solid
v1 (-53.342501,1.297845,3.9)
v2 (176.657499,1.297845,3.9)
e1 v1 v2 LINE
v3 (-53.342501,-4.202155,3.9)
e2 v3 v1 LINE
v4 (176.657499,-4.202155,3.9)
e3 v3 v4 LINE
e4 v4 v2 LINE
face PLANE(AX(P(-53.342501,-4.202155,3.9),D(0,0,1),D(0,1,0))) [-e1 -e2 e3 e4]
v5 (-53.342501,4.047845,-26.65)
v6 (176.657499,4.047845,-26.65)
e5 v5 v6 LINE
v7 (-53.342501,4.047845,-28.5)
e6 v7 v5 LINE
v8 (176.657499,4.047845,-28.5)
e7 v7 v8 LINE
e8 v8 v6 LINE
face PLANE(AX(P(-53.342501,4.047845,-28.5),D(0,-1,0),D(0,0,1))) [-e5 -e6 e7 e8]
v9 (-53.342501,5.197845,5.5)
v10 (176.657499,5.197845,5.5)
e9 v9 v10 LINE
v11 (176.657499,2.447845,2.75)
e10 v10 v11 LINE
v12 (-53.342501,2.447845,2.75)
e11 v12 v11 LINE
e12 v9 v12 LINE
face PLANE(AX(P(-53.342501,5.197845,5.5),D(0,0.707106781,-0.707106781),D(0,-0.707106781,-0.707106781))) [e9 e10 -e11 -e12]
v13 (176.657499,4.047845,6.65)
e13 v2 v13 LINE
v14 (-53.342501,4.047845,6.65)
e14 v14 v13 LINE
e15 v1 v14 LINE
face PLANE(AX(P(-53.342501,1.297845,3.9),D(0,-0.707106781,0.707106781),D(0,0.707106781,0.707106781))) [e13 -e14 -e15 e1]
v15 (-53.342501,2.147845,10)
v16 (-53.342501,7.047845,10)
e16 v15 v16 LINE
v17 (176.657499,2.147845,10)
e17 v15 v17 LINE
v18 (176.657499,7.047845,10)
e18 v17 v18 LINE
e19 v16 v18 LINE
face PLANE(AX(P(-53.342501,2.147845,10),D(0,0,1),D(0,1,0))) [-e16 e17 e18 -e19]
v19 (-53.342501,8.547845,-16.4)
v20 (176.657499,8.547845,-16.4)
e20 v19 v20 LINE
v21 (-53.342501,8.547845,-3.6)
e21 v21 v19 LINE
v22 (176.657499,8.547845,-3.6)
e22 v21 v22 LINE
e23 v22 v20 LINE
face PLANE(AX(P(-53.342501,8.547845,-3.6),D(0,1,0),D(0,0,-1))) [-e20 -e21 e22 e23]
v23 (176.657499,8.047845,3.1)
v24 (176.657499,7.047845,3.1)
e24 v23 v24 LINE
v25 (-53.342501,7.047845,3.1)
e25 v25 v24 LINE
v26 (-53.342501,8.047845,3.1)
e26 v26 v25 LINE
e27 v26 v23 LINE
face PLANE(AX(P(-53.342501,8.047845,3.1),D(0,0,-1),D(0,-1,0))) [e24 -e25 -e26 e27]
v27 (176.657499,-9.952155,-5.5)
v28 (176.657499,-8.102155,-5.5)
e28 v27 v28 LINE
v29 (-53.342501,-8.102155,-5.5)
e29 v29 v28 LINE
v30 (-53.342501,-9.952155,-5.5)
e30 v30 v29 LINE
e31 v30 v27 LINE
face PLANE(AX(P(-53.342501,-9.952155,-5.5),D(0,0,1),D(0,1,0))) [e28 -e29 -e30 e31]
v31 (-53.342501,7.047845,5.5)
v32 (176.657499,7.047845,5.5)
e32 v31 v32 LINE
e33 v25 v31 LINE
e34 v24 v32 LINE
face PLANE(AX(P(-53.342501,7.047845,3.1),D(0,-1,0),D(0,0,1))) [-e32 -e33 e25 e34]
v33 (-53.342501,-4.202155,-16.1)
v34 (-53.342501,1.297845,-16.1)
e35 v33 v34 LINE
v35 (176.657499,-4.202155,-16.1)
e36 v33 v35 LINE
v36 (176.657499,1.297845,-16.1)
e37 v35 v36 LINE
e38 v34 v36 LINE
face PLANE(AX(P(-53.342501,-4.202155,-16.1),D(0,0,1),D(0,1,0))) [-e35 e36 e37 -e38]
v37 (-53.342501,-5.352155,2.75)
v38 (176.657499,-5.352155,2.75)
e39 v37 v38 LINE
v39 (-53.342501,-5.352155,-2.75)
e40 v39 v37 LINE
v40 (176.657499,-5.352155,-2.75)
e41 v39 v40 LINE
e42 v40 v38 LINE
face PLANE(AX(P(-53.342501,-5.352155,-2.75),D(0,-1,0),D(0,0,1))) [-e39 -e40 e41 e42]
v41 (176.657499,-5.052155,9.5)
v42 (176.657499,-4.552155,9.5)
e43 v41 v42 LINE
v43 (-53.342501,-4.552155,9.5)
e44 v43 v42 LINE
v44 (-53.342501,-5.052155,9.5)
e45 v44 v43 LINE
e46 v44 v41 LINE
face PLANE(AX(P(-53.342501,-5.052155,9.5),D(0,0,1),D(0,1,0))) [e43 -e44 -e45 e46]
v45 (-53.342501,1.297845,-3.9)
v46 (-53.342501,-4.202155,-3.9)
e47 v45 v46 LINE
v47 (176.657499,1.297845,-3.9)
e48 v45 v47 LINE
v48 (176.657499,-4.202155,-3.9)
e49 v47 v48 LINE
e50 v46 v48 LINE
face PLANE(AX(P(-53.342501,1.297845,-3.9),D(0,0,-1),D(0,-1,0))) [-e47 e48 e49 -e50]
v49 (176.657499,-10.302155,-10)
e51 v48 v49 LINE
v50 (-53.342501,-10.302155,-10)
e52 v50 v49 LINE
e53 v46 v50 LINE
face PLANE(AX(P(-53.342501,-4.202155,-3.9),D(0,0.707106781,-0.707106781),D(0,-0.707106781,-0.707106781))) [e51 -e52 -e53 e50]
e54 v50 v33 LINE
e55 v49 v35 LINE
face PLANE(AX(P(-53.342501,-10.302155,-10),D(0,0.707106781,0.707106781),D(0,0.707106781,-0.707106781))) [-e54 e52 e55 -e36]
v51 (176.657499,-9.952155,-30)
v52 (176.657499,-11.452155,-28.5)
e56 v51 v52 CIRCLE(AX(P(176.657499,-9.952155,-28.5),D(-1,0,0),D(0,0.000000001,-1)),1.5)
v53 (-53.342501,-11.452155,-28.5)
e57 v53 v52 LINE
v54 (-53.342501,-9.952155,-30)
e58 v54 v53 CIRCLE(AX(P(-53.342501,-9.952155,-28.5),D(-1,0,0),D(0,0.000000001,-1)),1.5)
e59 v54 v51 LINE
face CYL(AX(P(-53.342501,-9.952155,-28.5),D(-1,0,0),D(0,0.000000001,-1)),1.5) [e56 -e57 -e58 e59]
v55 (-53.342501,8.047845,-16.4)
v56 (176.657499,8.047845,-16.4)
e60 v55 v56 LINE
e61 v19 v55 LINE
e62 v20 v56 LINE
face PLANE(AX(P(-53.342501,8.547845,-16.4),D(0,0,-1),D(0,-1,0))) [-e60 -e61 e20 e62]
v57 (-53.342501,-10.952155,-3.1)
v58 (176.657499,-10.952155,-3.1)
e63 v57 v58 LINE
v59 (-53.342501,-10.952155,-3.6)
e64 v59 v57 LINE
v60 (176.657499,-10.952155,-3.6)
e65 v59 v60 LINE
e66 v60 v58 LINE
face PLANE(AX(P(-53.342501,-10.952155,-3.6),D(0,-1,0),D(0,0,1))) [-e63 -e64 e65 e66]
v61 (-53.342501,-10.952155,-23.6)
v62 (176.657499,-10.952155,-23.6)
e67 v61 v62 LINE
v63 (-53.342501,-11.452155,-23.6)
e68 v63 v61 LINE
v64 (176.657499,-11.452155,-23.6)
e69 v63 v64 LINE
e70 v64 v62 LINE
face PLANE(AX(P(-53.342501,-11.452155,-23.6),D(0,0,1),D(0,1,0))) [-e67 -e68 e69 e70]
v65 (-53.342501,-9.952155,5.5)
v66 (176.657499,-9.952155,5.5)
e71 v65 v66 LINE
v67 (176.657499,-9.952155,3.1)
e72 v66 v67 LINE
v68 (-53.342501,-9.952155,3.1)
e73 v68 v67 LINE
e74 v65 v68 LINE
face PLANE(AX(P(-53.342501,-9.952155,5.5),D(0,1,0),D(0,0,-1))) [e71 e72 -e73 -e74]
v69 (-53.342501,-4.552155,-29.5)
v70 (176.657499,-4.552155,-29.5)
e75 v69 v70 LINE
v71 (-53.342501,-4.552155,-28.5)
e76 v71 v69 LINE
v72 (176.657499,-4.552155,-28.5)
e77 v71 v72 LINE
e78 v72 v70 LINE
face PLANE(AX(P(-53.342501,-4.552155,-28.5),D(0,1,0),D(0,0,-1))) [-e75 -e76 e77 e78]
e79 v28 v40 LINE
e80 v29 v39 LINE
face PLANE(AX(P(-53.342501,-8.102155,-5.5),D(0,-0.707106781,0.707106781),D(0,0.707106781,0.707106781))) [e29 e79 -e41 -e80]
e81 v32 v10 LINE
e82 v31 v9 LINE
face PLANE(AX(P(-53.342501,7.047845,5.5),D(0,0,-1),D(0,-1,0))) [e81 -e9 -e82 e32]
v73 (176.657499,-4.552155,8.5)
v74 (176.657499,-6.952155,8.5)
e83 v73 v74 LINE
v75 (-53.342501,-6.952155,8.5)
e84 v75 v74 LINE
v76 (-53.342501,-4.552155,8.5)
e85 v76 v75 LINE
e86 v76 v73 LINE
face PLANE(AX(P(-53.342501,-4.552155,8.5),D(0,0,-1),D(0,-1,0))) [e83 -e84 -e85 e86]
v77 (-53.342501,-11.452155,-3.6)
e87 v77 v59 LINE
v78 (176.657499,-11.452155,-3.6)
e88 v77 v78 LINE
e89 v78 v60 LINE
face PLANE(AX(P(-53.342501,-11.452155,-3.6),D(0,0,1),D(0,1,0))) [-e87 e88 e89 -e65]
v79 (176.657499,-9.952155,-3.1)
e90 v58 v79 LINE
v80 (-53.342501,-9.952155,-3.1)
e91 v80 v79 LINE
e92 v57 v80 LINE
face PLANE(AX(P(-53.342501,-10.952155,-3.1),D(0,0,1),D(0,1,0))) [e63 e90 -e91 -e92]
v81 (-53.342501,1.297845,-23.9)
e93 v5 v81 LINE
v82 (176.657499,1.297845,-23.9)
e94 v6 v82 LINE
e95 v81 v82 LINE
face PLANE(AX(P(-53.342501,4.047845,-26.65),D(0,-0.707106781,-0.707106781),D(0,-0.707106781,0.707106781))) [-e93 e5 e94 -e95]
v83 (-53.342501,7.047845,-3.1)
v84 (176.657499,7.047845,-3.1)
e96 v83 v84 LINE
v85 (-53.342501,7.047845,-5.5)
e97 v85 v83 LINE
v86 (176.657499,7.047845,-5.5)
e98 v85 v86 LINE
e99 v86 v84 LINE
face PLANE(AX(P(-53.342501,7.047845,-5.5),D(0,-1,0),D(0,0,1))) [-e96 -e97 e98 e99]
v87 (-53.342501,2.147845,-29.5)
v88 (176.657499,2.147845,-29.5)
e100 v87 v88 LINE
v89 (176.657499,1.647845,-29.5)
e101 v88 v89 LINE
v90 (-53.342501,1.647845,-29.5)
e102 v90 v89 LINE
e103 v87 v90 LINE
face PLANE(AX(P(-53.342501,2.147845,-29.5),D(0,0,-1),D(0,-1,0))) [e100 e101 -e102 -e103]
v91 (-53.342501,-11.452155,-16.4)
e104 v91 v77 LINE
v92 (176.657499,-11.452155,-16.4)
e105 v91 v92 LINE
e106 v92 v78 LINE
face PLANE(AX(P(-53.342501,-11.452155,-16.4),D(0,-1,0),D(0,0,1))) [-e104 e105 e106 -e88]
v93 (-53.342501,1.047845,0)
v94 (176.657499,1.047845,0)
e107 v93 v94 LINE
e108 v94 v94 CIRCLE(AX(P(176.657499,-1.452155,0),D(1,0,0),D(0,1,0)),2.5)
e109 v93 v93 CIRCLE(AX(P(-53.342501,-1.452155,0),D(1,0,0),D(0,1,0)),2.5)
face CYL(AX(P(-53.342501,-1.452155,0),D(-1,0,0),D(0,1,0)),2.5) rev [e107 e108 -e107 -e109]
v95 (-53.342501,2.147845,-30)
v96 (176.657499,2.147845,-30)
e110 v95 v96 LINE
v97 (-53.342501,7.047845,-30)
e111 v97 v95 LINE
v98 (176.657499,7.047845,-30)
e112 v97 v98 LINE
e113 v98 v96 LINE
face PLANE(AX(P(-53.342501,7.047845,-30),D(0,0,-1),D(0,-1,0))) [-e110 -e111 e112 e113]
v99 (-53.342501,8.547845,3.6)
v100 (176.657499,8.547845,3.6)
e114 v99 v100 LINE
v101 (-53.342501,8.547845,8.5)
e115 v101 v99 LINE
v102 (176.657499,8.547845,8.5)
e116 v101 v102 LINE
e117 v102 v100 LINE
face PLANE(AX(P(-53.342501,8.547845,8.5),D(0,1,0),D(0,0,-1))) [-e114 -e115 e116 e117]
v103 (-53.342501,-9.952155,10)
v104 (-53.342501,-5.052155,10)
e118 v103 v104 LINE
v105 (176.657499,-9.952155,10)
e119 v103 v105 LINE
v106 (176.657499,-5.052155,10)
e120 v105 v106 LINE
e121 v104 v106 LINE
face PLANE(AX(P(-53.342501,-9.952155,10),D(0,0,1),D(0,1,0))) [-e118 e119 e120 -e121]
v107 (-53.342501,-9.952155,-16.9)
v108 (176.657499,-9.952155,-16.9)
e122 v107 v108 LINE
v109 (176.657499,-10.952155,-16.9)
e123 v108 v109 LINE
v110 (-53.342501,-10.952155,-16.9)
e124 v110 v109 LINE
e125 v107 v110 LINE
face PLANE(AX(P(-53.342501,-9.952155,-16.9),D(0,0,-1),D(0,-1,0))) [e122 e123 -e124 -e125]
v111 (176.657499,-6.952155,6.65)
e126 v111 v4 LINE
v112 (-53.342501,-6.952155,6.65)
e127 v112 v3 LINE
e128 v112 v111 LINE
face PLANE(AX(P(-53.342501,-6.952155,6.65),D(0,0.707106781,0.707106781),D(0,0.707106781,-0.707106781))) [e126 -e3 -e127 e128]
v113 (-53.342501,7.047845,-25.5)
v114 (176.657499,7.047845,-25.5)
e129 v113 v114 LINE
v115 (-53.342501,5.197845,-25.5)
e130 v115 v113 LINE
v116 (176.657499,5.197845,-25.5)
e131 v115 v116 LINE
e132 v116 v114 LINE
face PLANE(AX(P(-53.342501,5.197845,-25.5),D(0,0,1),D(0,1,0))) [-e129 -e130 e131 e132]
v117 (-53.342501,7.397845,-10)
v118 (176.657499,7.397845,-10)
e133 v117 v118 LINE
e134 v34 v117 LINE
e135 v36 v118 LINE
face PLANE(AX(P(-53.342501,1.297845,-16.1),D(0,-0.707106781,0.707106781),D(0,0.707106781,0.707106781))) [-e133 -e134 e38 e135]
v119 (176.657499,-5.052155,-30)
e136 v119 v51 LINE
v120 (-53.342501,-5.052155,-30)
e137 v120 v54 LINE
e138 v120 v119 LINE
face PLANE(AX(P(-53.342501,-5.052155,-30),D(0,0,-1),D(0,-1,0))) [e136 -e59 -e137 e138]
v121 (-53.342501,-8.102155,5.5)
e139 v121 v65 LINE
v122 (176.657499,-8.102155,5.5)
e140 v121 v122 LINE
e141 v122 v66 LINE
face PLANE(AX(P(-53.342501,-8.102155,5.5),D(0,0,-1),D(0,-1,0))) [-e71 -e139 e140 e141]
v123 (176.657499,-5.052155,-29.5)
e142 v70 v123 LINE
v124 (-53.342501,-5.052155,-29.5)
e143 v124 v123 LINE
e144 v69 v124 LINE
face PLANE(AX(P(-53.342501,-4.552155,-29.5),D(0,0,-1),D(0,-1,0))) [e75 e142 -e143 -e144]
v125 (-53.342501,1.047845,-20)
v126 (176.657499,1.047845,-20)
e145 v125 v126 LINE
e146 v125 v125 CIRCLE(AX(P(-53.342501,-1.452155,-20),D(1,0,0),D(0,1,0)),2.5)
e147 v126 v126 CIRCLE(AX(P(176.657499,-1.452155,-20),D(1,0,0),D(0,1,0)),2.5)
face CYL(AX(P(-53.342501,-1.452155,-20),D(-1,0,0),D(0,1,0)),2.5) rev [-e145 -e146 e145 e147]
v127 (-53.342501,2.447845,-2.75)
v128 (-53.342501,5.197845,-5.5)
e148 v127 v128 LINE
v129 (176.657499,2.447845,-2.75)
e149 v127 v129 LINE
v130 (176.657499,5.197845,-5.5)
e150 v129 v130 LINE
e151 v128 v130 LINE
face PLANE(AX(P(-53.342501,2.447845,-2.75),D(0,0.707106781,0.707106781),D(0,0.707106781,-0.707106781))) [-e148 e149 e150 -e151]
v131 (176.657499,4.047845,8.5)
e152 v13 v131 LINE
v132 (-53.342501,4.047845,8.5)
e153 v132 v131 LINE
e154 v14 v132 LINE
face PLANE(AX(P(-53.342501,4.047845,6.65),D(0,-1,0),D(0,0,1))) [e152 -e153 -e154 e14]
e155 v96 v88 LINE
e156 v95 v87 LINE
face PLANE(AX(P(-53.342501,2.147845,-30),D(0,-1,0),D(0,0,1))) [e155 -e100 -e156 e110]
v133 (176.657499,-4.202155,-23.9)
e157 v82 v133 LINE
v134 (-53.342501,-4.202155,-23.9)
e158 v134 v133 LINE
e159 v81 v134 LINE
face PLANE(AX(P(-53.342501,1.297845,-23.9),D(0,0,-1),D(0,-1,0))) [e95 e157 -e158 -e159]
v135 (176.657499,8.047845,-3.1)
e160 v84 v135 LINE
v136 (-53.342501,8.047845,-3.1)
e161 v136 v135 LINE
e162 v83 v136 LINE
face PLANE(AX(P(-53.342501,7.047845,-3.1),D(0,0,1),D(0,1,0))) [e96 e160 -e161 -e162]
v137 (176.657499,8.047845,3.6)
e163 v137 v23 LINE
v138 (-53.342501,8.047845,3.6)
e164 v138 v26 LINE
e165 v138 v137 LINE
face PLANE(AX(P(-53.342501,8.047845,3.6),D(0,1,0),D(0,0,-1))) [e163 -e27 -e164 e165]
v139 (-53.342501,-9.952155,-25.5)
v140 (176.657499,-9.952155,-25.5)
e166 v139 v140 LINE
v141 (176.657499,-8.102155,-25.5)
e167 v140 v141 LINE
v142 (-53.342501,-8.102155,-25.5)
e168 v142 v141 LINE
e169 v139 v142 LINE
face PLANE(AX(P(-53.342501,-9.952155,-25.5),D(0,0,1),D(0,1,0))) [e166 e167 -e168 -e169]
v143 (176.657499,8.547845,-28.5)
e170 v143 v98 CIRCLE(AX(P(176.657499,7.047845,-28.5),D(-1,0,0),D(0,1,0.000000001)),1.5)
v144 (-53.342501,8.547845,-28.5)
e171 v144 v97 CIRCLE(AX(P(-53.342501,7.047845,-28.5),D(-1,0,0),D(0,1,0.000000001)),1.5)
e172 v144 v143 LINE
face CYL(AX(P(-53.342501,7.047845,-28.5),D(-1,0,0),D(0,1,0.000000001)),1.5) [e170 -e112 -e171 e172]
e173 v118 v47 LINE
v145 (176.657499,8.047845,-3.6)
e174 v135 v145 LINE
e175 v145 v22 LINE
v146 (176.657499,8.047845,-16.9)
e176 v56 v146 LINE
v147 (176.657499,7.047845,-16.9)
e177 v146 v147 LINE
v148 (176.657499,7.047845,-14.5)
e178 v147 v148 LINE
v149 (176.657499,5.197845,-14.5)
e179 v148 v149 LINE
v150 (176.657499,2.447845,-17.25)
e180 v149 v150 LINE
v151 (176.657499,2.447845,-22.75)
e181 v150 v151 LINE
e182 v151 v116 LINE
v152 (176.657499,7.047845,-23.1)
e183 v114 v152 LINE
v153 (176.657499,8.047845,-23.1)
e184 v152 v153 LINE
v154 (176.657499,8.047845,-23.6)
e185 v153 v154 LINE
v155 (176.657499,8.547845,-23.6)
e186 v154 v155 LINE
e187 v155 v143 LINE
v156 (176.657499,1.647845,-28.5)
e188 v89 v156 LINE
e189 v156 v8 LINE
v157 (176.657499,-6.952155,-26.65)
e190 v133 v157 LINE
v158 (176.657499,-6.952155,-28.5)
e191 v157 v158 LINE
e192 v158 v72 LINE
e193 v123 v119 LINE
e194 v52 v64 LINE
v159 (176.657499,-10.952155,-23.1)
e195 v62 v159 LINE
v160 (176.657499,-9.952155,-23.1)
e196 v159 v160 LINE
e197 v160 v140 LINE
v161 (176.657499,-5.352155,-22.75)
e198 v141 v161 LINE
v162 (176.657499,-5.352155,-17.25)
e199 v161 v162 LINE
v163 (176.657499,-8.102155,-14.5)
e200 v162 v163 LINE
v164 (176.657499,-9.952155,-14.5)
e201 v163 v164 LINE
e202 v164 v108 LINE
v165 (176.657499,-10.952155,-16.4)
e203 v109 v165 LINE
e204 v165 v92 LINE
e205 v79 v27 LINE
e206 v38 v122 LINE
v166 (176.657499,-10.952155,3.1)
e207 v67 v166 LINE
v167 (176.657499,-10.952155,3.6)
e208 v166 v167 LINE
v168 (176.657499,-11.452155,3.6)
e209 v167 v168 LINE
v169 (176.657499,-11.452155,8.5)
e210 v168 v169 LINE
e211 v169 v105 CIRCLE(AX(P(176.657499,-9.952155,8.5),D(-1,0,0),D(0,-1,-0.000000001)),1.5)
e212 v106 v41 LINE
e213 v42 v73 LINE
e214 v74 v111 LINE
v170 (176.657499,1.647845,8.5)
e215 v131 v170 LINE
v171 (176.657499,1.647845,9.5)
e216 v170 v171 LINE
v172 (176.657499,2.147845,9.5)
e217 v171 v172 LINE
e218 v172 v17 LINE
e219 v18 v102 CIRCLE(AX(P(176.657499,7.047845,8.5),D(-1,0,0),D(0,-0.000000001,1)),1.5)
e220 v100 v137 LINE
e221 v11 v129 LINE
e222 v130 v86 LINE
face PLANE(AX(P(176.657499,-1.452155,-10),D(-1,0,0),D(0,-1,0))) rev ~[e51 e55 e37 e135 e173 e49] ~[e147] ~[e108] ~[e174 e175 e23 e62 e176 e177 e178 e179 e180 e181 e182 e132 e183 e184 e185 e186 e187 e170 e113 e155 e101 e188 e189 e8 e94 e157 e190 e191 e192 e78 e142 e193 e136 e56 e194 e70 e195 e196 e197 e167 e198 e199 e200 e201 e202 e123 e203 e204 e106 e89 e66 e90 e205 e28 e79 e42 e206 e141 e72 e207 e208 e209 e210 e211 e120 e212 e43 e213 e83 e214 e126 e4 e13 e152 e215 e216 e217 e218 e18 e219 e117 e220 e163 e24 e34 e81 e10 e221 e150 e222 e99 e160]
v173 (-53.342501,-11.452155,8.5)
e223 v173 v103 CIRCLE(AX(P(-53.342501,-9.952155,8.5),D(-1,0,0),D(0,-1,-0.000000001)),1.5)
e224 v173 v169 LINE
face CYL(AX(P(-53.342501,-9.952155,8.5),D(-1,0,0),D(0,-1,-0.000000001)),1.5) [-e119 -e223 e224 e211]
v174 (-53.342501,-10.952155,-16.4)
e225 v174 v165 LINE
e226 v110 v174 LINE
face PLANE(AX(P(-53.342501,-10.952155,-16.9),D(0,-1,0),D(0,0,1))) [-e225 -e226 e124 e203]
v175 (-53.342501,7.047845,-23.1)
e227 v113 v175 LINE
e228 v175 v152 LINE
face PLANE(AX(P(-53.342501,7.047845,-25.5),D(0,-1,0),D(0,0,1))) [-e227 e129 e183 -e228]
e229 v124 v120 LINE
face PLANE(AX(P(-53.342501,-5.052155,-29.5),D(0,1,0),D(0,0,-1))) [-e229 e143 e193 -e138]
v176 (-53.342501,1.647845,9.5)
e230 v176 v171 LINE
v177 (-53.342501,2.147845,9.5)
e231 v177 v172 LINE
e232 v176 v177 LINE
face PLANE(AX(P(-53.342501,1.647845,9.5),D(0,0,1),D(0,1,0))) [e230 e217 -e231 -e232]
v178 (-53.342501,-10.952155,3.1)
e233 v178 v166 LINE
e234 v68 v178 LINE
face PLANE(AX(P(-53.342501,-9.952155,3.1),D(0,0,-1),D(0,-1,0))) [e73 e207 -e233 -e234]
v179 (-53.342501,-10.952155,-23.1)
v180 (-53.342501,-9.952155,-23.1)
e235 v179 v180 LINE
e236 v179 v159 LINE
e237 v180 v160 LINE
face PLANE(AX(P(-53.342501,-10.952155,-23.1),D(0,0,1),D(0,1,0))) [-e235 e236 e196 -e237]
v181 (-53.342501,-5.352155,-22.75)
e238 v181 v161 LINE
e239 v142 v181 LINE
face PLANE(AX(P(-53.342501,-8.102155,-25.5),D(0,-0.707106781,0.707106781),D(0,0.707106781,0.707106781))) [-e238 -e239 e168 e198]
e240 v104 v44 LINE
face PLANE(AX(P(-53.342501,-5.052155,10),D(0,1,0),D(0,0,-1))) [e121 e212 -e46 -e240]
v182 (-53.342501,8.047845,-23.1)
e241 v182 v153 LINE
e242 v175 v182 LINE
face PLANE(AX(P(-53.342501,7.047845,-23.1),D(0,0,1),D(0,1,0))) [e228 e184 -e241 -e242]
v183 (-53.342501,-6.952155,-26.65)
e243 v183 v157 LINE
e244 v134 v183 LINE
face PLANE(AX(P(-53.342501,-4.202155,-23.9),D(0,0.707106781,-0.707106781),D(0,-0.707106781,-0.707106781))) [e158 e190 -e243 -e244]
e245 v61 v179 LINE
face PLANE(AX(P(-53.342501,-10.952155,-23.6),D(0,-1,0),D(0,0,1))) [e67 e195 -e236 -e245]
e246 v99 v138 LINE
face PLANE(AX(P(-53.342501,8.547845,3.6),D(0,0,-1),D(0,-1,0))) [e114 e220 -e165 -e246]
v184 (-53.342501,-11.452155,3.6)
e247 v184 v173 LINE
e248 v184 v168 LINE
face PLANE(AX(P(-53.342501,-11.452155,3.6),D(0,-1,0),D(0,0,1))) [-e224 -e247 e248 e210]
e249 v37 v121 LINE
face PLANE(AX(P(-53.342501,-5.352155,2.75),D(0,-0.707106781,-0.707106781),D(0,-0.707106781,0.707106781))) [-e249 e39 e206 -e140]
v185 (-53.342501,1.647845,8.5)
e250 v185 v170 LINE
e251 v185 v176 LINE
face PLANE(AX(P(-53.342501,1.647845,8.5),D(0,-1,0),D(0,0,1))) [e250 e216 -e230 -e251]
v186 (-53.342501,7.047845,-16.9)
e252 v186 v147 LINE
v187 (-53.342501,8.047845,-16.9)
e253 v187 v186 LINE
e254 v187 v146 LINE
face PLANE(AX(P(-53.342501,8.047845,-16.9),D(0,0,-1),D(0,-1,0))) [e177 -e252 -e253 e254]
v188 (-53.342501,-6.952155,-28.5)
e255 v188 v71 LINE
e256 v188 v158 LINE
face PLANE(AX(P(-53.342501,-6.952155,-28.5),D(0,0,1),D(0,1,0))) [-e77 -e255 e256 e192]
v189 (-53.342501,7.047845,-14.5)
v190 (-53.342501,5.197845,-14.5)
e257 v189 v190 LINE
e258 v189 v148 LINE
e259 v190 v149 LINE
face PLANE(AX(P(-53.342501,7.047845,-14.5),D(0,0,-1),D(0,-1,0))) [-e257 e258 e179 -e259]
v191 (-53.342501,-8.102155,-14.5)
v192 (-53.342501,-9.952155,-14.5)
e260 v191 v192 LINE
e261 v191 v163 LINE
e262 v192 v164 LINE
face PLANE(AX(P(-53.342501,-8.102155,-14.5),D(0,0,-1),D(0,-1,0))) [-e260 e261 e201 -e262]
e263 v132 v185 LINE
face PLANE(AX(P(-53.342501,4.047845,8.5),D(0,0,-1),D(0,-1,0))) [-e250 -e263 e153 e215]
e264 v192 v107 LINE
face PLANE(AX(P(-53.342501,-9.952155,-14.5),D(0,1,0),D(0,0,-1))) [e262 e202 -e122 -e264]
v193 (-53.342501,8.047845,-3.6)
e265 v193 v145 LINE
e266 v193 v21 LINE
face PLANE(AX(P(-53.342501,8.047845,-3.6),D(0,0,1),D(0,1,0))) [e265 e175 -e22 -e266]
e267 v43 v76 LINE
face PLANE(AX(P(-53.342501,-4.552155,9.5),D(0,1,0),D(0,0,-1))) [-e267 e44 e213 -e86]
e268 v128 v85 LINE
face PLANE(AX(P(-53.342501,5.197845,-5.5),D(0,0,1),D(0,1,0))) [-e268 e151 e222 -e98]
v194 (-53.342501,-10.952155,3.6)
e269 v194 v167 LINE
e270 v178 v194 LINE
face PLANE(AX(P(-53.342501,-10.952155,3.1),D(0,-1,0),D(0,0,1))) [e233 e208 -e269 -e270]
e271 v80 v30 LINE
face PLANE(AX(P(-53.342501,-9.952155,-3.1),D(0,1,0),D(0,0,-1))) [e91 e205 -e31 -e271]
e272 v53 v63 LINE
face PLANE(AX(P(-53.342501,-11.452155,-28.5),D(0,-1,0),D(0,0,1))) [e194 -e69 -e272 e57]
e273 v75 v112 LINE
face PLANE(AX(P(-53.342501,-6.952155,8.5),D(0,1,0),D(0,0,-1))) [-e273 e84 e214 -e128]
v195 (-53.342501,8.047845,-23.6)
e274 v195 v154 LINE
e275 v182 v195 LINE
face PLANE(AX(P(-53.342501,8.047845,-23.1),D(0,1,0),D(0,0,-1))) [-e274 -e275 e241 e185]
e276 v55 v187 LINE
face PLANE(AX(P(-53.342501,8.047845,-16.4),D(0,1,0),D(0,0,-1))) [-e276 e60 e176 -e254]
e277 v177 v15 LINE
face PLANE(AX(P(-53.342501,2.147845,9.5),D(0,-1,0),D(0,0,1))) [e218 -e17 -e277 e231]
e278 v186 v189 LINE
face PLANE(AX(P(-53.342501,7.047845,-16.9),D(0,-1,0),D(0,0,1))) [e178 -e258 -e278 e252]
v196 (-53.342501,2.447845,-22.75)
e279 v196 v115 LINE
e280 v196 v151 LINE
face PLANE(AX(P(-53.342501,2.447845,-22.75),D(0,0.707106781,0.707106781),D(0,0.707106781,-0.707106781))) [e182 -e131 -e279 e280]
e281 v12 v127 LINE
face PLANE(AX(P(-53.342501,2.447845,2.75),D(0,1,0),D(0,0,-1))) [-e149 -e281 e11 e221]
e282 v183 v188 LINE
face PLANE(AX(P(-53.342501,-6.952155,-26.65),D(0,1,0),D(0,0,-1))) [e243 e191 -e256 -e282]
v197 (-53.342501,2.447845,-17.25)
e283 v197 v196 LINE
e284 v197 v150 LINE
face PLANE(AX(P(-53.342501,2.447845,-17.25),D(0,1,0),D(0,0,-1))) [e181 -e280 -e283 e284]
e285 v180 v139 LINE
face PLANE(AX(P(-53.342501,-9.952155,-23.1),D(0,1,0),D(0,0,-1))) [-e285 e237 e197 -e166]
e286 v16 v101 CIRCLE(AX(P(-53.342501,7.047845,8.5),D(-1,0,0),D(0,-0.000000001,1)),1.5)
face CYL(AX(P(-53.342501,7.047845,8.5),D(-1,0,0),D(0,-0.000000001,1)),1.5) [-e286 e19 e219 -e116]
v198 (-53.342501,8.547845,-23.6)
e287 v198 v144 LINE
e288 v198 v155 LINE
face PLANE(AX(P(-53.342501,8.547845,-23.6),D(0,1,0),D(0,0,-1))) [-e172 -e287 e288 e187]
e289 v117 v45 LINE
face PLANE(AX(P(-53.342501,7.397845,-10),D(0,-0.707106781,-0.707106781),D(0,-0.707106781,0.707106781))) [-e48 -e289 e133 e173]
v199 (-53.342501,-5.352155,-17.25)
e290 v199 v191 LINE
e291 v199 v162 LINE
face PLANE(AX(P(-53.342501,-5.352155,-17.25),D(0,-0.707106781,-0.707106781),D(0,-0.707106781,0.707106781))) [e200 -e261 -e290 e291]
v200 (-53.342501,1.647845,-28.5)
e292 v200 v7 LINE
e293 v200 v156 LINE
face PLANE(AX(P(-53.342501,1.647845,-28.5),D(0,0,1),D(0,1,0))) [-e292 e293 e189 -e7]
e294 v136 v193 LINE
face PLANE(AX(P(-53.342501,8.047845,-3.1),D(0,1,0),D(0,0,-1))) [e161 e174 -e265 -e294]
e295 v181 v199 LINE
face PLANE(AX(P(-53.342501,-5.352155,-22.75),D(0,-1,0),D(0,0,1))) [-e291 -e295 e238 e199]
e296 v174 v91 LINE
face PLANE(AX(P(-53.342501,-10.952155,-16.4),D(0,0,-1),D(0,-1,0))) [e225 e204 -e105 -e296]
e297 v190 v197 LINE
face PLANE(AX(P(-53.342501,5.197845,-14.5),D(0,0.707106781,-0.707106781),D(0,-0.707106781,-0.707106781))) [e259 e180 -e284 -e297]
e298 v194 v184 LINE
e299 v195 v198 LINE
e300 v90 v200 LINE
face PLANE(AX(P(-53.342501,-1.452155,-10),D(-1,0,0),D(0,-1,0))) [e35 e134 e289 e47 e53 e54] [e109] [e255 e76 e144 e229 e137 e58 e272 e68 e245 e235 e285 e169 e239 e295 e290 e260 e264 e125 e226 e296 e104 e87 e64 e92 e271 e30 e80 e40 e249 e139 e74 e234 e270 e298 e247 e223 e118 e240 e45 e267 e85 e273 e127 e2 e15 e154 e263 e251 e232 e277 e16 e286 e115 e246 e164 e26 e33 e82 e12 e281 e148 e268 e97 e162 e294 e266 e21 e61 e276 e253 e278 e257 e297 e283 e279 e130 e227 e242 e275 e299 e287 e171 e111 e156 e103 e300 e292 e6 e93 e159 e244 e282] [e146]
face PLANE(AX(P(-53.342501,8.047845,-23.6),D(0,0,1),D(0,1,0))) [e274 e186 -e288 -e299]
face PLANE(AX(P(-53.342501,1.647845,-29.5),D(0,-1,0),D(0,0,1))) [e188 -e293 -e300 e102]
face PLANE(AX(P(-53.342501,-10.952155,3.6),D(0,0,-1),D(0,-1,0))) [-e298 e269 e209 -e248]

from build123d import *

# Parameters (mm, degrees)
SKETCH16_R           = 2.5
F_20X40XR1_5_2_DEPTH = 230


with BuildPart() as part:
    # Sketch16 → 铝型材 20X40XR1.5(2) (new body)
    with BuildSketch(Plane(origin=(-53.342500755, -1.452155193, 0), x_dir=(0, 1, 0), z_dir=(1, 0, 0))):
        with BuildLine():
            Line((-3.6, 10), (-3.6, 9.5))
            Line((-3.6, 9.5), (-3.1, 9.5))
            Line((-3.1, 9.5), (-3.1, 8.5))
            Line((-3.1, 8.5), (-5.5, 8.5))
            Line((-5.5, 8.5), (-5.5, 6.65))
            Line((-5.5, 6.65), (-2.75, 3.9))
            Line((-2.75, 3.9), (2.75, 3.9))
            Line((2.75, 3.9), (5.5, 6.65))
            Line((5.5, 6.65), (5.5, 8.5))
            Line((5.5, 8.5), (3.1, 8.5))
            Line((3.1, 8.5), (3.1, 9.5))
            Line((3.1, 9.5), (3.6, 9.5))
            Line((3.6, 9.5), (3.6, 10))
            Line((3.6, 10), (8.5, 10))
            ThreePointArc((8.5, 10), (9.560660172, 9.560660172), (10, 8.5))
            Line((10, 8.5), (10, 3.6))
            Line((10, 3.6), (9.5, 3.6))
            Line((9.5, 3.6), (9.5, 3.1))
            Line((9.5, 3.1), (8.5, 3.1))
            Line((8.5, 3.1), (8.5, 5.5))
            Line((8.5, 5.5), (6.65, 5.5))
            Line((6.65, 5.5), (3.9, 2.75))
            Line((3.9, 2.75), (3.9, -2.75))
            Line((3.9, -2.75), (6.65, -5.5))
            Line((6.65, -5.5), (8.5, -5.5))
            Line((8.5, -5.5), (8.5, -3.1))
            Line((8.5, -3.1), (9.5, -3.1))
            Line((9.5, -3.1), (9.5, -3.6))
            Line((9.5, -3.6), (10, -3.6))
            Line((10, -3.6), (10, -16.4))
            Line((10, -16.4), (9.5, -16.4))
            Line((9.5, -16.4), (9.5, -16.9))
            Line((9.5, -16.9), (8.5, -16.9))
            Line((8.5, -16.9), (8.5, -14.5))
            Line((8.5, -14.5), (6.65, -14.5))
            Line((6.65, -14.5), (3.9, -17.25))
            Line((3.9, -17.25), (3.9, -22.75))
            Line((3.9, -22.75), (6.65, -25.5))
            Line((6.65, -25.5), (8.5, -25.5))
            Line((8.5, -25.5), (8.5, -23.1))
            Line((8.5, -23.1), (9.5, -23.1))
            Line((9.5, -23.1), (9.5, -23.6))
            Line((9.5, -23.6), (10, -23.6))
            Line((10, -23.6), (10, -28.5))
            ThreePointArc((10, -28.5), (9.560660172, -29.560660172), (8.5, -30))
            Line((8.5, -30), (3.6, -30))
            Line((3.6, -30), (3.6, -29.5))
            Line((3.6, -29.5), (3.1, -29.5))
            Line((3.1, -29.5), (3.1, -28.5))
            Line((3.1, -28.5), (5.5, -28.5))
            Line((5.5, -28.5), (5.5, -26.65))
            Line((5.5, -26.65), (2.75, -23.9))
            Line((2.75, -23.9), (-2.75, -23.9))
            Line((-2.75, -23.9), (-5.5, -26.65))
            Line((-5.5, -26.65), (-5.5, -28.5))
            Line((-5.5, -28.5), (-3.1, -28.5))
            Line((-3.1, -28.5), (-3.1, -29.5))
            Line((-3.1, -29.5), (-3.6, -29.5))
            Line((-3.6, -29.5), (-3.6, -30))
            Line((-3.6, -30), (-8.5, -30))
            ThreePointArc((-8.5, -30), (-9.560660172, -29.560660172), (-10, -28.5))
            Line((-10, -28.5), (-10, -23.6))
            Line((-10, -23.6), (-9.5, -23.6))
            Line((-9.5, -23.6), (-9.5, -23.1))
            Line((-9.5, -23.1), (-8.5, -23.1))
            Line((-8.5, -23.1), (-8.5, -25.5))
            Line((-8.5, -25.5), (-6.65, -25.5))
            Line((-6.65, -25.5), (-3.9, -22.75))
            Line((-3.9, -22.75), (-3.9, -17.25))
            Line((-3.9, -17.25), (-6.65, -14.5))
            Line((-6.65, -14.5), (-8.5, -14.5))
            Line((-8.5, -14.5), (-8.5, -16.9))
            Line((-8.5, -16.9), (-9.5, -16.9))
            Line((-9.5, -16.9), (-9.5, -16.4))
            Line((-9.5, -16.4), (-10, -16.4))
            Line((-10, -16.4), (-10, -3.6))
            Line((-10, -3.6), (-9.5, -3.6))
            Line((-9.5, -3.6), (-9.5, -3.1))
            Line((-9.5, -3.1), (-8.5, -3.1))
            Line((-8.5, -3.1), (-8.5, -5.5))
            Line((-8.5, -5.5), (-6.65, -5.5))
            Line((-6.65, -5.5), (-3.9, -2.75))
            Line((-3.9, -2.75), (-3.9, 2.75))
            Line((-3.9, 2.75), (-6.65, 5.5))
            Line((-6.65, 5.5), (-8.5, 5.5))
            Line((-8.5, 5.5), (-8.5, 3.1))
            Line((-8.5, 3.1), (-9.5, 3.1))
            Line((-9.5, 3.1), (-9.5, 3.6))
            Line((-9.5, 3.6), (-10, 3.6))
            Line((-10, 3.6), (-10, 8.5))
            ThreePointArc((-10, 8.5), (-9.560660172, 9.560660172), (-8.5, 10))
            Line((-8.5, 10), (-3.6, 10))
        make_face()
        Circle(SKETCH16_R, mode=Mode.SUBTRACT)
        with Locations((0, -20)):
            Circle(SKETCH16_R, mode=Mode.SUBTRACT)
        Polygon((8.85, -10), (2.75, -3.9), (-2.75, -3.9), (-8.85, -10), (-2.75, -16.1), (2.75, -16.1), align=None, mode=Mode.SUBTRACT)
    extrude(amount=F_20X40XR1_5_2_DEPTH)


solid = part.part
